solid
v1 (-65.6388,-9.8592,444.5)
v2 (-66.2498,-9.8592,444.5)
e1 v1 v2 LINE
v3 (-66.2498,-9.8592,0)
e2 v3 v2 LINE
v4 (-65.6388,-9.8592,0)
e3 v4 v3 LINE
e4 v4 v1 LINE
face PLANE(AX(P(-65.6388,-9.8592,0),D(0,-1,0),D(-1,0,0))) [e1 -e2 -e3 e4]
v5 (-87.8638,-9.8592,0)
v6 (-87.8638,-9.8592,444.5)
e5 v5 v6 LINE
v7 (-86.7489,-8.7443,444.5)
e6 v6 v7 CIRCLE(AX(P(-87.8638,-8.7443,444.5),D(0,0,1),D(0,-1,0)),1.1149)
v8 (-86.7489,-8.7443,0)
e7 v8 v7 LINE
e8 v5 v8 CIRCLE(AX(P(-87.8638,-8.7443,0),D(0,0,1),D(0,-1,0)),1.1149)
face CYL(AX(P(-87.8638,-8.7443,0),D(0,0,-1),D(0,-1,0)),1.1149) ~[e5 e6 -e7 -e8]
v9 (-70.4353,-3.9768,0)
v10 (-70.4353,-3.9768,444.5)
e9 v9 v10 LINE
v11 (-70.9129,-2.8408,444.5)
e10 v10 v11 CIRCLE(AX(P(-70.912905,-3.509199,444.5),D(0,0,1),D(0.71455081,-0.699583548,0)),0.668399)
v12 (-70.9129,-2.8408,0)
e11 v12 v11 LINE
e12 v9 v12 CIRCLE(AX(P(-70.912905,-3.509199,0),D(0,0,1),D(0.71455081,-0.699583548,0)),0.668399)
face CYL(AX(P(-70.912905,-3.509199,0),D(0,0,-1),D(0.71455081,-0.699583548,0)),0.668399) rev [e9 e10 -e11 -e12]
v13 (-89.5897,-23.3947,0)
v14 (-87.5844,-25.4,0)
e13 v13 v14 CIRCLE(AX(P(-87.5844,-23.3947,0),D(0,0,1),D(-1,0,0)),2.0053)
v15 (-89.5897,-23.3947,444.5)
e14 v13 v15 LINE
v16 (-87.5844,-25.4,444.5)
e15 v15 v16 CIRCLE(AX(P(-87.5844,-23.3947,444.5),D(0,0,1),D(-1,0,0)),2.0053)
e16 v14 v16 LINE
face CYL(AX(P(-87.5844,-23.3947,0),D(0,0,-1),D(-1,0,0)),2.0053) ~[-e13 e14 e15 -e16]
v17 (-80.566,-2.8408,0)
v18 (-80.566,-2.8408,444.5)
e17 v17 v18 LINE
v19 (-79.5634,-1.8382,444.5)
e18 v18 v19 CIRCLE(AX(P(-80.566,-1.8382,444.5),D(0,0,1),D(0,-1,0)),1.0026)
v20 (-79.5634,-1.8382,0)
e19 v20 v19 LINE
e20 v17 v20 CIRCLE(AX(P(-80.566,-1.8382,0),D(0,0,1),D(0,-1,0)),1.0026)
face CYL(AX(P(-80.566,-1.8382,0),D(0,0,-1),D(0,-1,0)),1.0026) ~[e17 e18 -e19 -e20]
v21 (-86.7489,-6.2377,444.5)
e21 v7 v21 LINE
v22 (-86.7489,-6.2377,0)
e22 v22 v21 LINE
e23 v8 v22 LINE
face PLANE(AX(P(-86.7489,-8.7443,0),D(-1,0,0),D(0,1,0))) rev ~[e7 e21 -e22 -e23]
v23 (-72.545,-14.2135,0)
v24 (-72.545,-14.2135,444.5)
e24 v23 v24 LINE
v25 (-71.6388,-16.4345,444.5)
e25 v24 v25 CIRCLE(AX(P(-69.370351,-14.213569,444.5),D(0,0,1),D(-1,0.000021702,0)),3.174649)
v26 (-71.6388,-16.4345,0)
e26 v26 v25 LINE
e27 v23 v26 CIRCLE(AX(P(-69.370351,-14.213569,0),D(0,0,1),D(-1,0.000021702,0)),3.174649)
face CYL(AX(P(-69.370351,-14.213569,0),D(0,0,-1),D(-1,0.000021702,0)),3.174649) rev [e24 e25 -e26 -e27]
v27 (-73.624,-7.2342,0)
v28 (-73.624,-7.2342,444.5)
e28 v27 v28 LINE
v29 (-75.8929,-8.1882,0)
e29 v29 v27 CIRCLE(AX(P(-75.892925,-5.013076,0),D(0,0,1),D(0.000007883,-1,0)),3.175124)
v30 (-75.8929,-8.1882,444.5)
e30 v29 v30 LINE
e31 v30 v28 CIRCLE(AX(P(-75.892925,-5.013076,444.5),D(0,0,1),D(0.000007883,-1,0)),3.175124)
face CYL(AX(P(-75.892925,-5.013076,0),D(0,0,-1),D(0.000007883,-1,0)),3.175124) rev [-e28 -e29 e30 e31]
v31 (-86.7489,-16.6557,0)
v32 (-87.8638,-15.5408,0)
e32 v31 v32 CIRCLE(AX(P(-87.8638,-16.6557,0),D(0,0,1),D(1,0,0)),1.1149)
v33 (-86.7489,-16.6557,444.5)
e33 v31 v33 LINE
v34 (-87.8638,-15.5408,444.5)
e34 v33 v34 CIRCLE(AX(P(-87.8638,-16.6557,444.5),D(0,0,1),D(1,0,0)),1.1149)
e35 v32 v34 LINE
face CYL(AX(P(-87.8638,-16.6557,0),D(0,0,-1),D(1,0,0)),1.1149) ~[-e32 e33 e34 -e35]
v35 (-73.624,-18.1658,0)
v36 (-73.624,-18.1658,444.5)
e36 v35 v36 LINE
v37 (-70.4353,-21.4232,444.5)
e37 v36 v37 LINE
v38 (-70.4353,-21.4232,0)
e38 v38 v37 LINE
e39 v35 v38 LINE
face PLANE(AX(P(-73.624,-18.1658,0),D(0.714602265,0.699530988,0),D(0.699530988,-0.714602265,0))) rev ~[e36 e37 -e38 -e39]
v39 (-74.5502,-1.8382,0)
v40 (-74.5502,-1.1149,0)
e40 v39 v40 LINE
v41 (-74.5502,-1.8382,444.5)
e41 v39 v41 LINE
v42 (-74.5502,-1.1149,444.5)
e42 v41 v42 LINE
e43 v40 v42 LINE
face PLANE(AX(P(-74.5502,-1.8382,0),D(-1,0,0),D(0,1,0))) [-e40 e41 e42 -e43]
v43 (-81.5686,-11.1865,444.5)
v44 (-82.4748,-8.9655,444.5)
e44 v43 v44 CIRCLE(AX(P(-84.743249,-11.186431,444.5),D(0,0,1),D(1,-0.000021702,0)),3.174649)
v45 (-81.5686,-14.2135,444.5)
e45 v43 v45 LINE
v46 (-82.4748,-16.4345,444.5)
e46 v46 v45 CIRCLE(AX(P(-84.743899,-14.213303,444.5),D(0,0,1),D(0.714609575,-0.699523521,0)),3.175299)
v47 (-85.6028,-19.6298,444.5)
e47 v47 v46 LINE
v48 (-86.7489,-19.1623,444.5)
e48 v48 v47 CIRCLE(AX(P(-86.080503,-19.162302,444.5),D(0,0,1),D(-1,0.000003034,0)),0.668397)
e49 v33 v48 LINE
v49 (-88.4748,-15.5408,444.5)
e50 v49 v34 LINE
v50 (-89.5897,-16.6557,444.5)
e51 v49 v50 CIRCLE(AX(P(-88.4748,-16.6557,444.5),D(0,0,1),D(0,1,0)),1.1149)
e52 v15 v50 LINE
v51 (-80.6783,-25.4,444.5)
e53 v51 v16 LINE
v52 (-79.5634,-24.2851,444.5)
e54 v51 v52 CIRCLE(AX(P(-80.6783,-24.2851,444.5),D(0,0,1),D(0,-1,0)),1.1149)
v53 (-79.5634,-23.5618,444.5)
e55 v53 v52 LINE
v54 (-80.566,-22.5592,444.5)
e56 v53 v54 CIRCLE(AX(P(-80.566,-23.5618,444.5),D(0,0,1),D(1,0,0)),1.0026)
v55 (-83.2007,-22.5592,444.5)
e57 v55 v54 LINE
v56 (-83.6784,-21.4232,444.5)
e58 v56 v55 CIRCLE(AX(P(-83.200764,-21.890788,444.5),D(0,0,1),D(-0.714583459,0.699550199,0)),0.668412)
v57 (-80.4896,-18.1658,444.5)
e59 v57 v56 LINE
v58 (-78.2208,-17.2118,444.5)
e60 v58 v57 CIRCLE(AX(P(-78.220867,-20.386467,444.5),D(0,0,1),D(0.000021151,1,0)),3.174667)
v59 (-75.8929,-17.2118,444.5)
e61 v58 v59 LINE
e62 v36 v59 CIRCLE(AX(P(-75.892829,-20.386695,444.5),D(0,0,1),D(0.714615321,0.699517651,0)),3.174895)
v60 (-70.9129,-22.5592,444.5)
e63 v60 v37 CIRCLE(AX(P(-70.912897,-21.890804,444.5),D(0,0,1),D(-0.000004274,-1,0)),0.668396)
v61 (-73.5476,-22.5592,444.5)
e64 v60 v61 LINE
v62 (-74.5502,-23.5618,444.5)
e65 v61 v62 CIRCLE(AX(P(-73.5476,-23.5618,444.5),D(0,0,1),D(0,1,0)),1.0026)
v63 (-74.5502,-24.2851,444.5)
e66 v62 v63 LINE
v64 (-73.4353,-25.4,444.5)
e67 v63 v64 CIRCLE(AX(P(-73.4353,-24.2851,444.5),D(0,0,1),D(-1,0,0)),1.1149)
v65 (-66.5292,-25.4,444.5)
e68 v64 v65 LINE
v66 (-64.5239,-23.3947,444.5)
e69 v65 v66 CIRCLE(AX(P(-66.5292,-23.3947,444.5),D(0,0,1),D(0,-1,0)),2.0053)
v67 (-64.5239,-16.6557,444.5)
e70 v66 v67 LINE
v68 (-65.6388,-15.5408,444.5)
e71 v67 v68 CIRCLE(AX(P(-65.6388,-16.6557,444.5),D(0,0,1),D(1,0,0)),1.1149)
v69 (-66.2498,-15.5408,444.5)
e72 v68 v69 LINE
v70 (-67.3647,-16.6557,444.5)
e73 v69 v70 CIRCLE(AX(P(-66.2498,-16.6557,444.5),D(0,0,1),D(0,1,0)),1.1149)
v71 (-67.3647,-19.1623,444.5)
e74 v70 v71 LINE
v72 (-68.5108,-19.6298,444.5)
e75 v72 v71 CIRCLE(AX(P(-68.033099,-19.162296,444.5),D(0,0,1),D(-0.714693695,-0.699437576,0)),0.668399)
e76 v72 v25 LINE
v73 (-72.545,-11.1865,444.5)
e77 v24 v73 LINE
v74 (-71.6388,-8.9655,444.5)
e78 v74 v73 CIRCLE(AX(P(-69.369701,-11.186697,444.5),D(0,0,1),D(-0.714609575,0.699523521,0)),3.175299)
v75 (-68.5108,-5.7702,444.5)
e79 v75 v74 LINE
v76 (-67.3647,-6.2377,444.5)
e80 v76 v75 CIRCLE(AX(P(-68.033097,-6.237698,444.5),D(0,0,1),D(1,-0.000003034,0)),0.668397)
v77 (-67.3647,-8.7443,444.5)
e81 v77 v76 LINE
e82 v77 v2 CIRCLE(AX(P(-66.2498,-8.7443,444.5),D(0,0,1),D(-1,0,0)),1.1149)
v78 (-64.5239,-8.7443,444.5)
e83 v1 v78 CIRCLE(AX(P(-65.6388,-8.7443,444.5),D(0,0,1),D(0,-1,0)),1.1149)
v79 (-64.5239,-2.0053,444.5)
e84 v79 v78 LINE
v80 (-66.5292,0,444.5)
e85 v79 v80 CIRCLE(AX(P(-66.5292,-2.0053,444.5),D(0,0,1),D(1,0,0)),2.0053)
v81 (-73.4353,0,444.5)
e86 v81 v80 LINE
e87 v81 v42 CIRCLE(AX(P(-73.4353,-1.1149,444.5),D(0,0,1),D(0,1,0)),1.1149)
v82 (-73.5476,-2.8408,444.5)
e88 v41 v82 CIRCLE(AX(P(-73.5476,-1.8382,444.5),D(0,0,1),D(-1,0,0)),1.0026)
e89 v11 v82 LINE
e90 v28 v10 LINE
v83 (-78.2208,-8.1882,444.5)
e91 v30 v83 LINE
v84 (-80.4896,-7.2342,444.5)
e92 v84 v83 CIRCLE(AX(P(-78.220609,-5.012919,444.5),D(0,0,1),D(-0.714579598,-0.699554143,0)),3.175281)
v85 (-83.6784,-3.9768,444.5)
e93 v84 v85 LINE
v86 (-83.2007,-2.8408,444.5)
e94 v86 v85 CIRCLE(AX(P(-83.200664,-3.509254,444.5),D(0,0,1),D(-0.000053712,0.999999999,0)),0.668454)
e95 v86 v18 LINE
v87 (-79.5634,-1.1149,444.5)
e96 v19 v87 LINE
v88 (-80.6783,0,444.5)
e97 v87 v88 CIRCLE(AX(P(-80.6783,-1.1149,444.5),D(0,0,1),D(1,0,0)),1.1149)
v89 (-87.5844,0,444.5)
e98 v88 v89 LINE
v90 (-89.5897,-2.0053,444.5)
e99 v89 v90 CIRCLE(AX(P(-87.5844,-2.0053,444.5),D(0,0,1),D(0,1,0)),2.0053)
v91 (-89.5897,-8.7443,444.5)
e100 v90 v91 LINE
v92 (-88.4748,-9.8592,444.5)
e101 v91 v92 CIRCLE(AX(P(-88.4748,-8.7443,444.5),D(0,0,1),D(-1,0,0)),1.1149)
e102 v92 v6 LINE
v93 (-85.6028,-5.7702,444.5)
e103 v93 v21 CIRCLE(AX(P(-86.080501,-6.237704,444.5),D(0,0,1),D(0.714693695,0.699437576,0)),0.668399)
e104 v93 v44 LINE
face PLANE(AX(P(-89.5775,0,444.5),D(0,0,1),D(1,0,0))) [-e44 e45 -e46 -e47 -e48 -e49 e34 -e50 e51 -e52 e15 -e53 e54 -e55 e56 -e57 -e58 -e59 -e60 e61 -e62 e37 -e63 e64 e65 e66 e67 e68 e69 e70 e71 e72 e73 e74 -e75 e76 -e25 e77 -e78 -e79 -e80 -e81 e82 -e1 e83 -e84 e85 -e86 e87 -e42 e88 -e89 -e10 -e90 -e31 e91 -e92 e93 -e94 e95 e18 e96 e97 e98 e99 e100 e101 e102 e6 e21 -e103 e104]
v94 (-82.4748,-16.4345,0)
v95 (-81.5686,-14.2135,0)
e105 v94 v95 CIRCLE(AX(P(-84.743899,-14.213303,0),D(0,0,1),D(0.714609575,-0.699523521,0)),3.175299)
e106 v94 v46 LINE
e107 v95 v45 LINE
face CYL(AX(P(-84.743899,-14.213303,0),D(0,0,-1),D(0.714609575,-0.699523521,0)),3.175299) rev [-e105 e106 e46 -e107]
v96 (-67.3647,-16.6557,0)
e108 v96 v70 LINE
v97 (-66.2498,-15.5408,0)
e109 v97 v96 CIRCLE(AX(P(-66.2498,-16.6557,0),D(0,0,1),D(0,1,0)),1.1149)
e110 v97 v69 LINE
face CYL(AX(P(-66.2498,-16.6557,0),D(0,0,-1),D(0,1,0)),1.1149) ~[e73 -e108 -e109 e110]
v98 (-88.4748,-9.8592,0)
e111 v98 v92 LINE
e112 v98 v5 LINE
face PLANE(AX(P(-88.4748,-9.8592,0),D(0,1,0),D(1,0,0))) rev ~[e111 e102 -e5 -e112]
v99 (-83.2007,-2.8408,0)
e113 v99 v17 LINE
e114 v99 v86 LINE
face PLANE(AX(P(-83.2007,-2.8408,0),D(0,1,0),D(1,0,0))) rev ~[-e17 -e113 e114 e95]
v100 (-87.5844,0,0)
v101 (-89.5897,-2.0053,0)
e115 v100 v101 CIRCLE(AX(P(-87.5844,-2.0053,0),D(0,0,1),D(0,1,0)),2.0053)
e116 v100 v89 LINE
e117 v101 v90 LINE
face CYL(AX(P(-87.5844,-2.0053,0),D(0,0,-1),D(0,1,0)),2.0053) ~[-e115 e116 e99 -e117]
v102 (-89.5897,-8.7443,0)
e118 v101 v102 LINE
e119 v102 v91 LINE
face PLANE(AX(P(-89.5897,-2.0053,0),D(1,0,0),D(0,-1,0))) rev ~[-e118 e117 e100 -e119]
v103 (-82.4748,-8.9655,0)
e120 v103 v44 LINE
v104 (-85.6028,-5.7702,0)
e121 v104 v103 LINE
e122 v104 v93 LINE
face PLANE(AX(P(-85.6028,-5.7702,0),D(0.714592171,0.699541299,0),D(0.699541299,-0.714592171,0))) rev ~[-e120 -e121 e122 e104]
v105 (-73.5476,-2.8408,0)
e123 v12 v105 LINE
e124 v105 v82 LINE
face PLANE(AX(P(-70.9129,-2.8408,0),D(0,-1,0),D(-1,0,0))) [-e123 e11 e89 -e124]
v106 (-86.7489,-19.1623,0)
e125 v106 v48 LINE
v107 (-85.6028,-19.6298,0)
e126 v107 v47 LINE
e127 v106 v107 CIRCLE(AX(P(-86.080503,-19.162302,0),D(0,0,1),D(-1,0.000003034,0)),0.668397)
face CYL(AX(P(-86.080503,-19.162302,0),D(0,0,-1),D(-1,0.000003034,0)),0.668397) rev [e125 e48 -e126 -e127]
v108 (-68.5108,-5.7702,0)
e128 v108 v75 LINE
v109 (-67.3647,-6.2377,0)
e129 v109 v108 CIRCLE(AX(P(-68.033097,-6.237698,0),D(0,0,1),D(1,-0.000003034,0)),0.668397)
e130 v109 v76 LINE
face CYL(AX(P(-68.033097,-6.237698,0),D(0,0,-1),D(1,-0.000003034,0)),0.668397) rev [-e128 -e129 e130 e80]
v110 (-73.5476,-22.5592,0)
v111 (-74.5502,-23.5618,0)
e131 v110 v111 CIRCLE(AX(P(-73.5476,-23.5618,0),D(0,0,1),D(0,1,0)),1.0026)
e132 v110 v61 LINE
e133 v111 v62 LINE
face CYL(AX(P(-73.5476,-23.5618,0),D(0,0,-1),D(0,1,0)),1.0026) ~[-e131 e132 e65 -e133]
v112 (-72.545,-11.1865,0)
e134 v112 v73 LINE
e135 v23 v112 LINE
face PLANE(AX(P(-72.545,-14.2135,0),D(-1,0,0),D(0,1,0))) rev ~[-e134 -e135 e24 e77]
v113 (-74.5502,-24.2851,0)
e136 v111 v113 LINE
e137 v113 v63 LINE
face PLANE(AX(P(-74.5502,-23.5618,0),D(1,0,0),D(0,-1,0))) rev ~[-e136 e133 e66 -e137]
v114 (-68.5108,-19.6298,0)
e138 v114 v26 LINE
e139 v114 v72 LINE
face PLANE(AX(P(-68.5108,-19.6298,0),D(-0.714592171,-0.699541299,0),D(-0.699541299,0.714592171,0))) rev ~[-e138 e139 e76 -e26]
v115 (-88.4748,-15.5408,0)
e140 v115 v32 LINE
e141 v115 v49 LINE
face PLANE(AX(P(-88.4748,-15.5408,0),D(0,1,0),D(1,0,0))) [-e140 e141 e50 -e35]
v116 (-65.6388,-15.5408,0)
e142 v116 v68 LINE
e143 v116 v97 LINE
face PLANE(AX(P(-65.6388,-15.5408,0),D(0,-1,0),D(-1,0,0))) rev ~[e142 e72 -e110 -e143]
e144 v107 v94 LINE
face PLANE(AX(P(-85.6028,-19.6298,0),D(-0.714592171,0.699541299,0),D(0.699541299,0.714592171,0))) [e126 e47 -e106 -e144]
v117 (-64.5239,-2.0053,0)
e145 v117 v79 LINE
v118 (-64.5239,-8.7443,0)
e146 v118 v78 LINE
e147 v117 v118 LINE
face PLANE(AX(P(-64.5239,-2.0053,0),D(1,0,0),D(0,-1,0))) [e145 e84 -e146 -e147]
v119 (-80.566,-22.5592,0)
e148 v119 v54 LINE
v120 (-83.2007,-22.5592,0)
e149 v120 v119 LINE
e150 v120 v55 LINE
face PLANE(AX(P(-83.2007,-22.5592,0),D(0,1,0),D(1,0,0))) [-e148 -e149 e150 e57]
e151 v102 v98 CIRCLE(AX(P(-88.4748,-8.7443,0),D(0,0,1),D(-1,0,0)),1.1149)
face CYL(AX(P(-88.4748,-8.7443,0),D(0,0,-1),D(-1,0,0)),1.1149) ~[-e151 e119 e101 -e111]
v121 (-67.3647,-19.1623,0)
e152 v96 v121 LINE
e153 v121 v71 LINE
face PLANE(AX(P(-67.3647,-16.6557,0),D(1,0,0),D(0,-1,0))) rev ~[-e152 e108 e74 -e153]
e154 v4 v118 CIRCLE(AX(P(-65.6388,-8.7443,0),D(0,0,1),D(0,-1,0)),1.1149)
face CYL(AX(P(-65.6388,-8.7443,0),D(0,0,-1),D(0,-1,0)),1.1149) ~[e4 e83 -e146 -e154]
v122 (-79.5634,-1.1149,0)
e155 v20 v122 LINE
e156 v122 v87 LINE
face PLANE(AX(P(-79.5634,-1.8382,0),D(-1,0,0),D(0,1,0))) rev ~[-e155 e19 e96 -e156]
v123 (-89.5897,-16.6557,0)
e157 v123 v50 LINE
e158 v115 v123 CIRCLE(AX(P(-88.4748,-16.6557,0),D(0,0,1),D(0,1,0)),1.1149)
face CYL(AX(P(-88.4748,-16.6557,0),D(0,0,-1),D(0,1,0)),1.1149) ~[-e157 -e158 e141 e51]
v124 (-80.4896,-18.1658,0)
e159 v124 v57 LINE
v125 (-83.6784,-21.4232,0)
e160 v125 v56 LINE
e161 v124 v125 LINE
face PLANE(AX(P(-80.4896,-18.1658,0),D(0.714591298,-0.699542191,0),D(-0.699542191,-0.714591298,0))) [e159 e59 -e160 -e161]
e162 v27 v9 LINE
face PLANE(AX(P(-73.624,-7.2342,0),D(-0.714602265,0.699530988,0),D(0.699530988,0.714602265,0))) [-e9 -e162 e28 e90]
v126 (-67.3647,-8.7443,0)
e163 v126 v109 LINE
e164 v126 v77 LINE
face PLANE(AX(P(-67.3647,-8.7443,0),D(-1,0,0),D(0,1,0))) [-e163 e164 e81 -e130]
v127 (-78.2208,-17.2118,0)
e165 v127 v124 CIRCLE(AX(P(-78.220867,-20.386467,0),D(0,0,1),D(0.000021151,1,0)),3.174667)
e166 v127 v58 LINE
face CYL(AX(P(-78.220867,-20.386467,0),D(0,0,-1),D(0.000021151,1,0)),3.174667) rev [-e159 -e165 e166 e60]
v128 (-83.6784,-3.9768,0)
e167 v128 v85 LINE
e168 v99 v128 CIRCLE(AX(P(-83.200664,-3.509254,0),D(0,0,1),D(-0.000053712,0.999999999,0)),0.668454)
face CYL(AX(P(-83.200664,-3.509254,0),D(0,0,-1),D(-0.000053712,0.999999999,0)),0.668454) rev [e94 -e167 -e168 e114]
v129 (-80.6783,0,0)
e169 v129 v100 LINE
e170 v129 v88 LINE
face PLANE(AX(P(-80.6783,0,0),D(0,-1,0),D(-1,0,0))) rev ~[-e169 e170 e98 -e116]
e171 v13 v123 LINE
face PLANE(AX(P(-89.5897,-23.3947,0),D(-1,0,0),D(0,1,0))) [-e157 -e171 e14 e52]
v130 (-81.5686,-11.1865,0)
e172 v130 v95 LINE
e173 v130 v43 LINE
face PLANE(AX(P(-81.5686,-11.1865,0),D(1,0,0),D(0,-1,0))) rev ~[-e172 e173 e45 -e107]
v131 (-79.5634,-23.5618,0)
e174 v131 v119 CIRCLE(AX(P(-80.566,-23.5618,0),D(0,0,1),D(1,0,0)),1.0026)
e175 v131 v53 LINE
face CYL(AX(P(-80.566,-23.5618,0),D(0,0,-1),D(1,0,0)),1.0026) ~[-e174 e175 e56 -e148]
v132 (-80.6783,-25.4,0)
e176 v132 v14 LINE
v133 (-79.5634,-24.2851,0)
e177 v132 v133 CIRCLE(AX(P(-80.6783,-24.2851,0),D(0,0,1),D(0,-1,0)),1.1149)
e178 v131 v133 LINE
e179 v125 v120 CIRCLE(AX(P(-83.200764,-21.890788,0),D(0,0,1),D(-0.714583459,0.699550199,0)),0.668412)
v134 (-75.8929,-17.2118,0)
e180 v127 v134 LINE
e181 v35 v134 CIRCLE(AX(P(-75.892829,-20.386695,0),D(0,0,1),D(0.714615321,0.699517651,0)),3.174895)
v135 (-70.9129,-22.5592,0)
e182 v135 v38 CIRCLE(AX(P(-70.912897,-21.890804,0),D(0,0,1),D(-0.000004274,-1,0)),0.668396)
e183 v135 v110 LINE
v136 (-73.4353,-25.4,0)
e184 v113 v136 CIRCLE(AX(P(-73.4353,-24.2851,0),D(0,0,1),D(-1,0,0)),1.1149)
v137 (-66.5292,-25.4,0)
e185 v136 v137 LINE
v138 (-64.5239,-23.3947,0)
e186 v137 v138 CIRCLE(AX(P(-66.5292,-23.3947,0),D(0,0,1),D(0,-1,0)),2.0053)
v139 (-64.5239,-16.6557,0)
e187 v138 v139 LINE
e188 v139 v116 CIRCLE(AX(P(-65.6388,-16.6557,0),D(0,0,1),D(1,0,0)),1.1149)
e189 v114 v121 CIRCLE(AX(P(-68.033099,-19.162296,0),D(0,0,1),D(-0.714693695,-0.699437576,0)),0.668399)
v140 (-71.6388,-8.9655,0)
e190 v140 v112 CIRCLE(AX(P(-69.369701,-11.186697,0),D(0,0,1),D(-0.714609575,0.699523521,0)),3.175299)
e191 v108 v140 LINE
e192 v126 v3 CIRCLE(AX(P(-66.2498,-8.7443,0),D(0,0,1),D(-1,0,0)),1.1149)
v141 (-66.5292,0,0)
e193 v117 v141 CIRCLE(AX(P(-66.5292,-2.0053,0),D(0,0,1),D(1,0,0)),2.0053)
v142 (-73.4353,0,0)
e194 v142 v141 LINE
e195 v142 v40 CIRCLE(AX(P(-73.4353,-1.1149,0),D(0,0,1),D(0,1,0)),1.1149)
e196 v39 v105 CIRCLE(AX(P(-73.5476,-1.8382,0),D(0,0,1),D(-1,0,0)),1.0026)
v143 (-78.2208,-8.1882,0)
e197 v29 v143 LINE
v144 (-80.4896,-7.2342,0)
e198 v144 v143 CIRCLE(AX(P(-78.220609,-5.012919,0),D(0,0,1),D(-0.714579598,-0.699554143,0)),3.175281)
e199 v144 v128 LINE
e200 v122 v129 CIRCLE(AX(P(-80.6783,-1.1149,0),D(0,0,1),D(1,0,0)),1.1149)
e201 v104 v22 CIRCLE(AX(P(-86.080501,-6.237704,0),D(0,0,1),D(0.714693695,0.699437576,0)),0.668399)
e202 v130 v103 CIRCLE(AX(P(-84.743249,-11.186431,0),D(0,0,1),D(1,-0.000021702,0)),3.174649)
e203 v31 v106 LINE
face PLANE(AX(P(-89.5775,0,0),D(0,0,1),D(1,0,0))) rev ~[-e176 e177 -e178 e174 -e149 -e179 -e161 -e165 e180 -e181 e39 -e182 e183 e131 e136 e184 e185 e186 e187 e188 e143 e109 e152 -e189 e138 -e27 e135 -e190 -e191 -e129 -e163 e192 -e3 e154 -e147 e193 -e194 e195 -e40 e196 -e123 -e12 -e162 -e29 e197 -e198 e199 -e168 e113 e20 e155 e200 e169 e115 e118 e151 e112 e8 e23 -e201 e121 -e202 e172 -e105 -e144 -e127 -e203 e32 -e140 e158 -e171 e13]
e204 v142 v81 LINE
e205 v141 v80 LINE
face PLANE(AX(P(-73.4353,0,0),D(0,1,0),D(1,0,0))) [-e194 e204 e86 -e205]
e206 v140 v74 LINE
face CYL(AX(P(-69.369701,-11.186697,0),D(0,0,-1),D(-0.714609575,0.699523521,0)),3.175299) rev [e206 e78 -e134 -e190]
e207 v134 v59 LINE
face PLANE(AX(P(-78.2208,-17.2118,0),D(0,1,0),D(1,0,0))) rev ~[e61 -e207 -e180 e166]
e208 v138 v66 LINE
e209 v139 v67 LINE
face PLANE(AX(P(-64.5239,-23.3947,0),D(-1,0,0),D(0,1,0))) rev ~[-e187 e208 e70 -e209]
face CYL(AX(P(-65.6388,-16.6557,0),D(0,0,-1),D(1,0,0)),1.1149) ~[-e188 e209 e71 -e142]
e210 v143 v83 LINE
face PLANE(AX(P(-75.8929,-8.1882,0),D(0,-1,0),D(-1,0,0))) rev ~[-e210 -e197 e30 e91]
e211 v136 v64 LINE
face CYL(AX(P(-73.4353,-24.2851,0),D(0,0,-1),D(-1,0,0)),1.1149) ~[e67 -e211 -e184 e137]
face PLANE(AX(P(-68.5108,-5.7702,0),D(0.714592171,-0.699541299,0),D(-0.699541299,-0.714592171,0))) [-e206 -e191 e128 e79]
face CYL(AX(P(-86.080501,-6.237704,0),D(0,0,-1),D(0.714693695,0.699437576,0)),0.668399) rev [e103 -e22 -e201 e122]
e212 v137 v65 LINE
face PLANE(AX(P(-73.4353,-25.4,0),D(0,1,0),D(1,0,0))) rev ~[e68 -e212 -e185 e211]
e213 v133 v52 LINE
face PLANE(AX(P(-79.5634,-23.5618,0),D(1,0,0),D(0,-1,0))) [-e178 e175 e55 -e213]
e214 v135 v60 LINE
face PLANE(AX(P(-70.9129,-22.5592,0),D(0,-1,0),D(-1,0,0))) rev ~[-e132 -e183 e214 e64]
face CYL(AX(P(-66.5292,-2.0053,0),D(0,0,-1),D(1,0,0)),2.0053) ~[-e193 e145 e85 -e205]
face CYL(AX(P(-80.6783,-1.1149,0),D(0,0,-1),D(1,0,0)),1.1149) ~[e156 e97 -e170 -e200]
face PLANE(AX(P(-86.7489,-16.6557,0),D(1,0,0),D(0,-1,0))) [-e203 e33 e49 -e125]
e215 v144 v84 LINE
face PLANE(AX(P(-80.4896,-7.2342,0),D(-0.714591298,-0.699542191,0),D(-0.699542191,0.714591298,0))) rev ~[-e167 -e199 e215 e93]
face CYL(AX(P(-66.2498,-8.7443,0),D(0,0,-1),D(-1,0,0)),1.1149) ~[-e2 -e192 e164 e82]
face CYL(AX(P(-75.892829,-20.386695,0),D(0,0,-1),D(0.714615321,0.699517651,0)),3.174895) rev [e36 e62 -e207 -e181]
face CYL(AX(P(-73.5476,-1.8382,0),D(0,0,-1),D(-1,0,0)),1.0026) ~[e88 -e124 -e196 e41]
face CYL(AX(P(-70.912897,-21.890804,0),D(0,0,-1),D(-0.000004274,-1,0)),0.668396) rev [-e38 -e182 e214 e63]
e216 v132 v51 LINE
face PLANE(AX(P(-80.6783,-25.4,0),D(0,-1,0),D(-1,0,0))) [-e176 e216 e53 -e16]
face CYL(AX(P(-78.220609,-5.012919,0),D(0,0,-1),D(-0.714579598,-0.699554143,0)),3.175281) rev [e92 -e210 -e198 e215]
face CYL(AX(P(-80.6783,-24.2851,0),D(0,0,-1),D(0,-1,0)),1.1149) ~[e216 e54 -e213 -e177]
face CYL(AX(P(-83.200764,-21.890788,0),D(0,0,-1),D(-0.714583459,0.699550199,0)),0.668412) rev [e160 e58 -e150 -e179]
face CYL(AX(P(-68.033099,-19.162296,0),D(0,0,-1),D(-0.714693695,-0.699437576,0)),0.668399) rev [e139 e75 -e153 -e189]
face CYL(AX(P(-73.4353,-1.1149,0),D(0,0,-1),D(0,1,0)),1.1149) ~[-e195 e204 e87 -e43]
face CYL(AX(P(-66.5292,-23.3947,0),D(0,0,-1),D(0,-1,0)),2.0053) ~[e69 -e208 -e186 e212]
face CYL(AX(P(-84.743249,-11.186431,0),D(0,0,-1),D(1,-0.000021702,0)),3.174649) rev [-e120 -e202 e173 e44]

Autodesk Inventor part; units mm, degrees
ref_plane "YZ Plane" through (0, 0, 0) normal (1, 0, 0) x (0, 1, 0)
ref_plane "XZ Plane" through (0, 0, 0) normal (0, 1, 0) x (-1, 0, 0)
ref_plane "Work Plane1" through (-89.5775, 0, 0) normal (0, 0, 1) x (1, 0, 0)
sketch "Sketch1" plane through (-89.5775, 0, 0) normal (0, 0, 1) x (1, 0, 0)
  arc A0 (19.1422, -3.9768) -> (18.6646, -2.8408) centre (18.6646, -3.5092) ccw
  line L0 (15.9535, -7.2342) -> (19.1422, -3.9768)
  line L1 (21.0667, -5.7702) -> (17.9387, -8.9655)
  arc A1 (22.2128, -6.2377) -> (21.0667, -5.7702) centre (21.5444, -6.2377) ccw
  line L2 (25.0536, -2.0053) -> (25.0536, -8.7443)
  line L3 (22.2128, -8.7443) -> (22.2128, -6.2377)
  line L4 (-0.0122, -2.0053) -> (-0.0122, -8.7443)
  arc A2 (3.9747, -5.7702) -> (2.8286, -6.2377) centre (3.497, -6.2377) ccw
  arc A3 (1.9931, 0) -> (-0.0122, -2.0053) centre (1.9931, -2.0053) ccw
  line L5 (8.8992, 0) -> (1.9931, 0)
  arc A4 (7.1027, -16.4345) -> (8.0089, -14.2135) centre (4.8339, -14.2135) ccw
  arc A5 (18.6646, -22.5592) -> (19.1422, -21.4232) centre (18.6646, -21.8908) ccw
  line L6 (15.9535, -18.1658) -> (19.1422, -21.4232)
  arc A6 (21.0667, -19.6298) -> (22.2128, -19.1623) centre (21.5444, -19.1623) ccw
  line L7 (21.0667, -19.6298) -> (17.9387, -16.4345)
  line L8 (22.2128, -16.6557) -> (22.2128, -19.1623)
  line L9 (25.0536, -23.3947) -> (25.0536, -16.6557)
  line L10 (16.1422, 0) -> (23.0483, 0)
  line L11 (18.6646, -2.8408) -> (16.0299, -2.8408)
  arc A7 (22.2128, -8.7443) -> (23.3277, -9.8592) centre (23.3277, -8.7443) ccw
  line L12 (23.9387, -9.8592) -> (23.3277, -9.8592)
  arc A8 (23.9387, -9.8592) -> (25.0536, -8.7443) centre (23.9387, -8.7443) ccw
  arc A9 (6.3768, -2.8408) -> (5.8991, -3.9768) centre (6.3768, -3.5092) ccw
  line L13 (3.9747, -5.7702) -> (7.1027, -8.9655)
  line L14 (9.0879, -7.2342) -> (5.8991, -3.9768)
  arc A10 (2.8286, -19.1623) -> (3.9747, -19.6298) centre (3.497, -19.1623) ccw
  line L15 (-0.0122, -23.3947) -> (-0.0122, -16.6557)
  line L16 (3.9747, -19.6298) -> (7.1027, -16.4345)
  arc A11 (5.8991, -21.4232) -> (6.3768, -22.5592) centre (6.3768, -21.8908) ccw
  line L17 (9.0879, -18.1658) -> (5.8991, -21.4232)
  line L18 (2.8286, -16.6557) -> (2.8286, -19.1623)
  arc A12 (23.0483, -25.4) -> (25.0536, -23.3947) centre (23.0483, -23.3947) ccw
  arc A13 (25.0536, -2.0053) -> (23.0483, 0) centre (23.0483, -2.0053) ccw
  arc A14 (13.6846, -8.1882) -> (15.9535, -7.2342) centre (13.6846, -5.0132) ccw
  line L19 (13.6846, -8.1882) -> (11.3567, -8.1882)
  arc A15 (9.0115, -2.8408) -> (10.0141, -1.8382) centre (9.0115, -1.8382) ccw
  arc A16 (9.0879, -7.2342) -> (11.3567, -8.1882) centre (11.3567, -5.0132) ccw
  arc A17 (17.9387, -8.9655) -> (17.0325, -11.1865) centre (20.2075, -11.1865) ccw
  line L20 (17.0325, -14.2135) -> (17.0325, -11.1865)
  line L21 (6.3768, -2.8408) -> (9.0115, -2.8408)
  line L22 (10.0141, -1.8382) -> (10.0141, -1.1149)
  arc A18 (10.0141, -1.1149) -> (8.8992, 0) centre (8.8992, -1.1149) ccw
  line L23 (2.8286, -8.7443) -> (2.8286, -6.2377)
  arc A19 (1.7137, -9.8592) -> (2.8286, -8.7443) centre (1.7137, -8.7443) ccw
  line L24 (1.1027, -9.8592) -> (1.7137, -9.8592)
  arc A20 (-0.0122, -8.7443) -> (1.1027, -9.8592) centre (1.1027, -8.7443) ccw
  line L25 (6.3768, -22.5592) -> (9.0115, -22.5592)
  arc A21 (10.0141, -23.5618) -> (9.0115, -22.5592) centre (9.0115, -23.5618) ccw
  line L26 (10.0141, -23.5618) -> (10.0141, -24.2851)
  arc A22 (8.8992, -25.4) -> (10.0141, -24.2851) centre (8.8992, -24.2851) ccw
  line L27 (8.8992, -25.4) -> (1.9931, -25.4)
  arc A23 (17.0325, -14.2135) -> (17.9387, -16.4345) centre (20.2075, -14.2135) ccw
  line L28 (23.9387, -15.5408) -> (23.3277, -15.5408)
  arc A24 (23.3277, -15.5408) -> (22.2128, -16.6557) centre (23.3277, -16.6557) ccw
  arc A25 (25.0536, -16.6557) -> (23.9387, -15.5408) centre (23.9387, -16.6557) ccw
  line L29 (16.1422, -25.4) -> (23.0483, -25.4)
  line L30 (18.6646, -22.5592) -> (16.0299, -22.5592)
  line L31 (8.0089, -11.1865) -> (8.0089, -14.2135)
  arc A26 (8.0089, -11.1865) -> (7.1027, -8.9655) centre (4.8339, -11.1865) ccw
  arc A27 (15.0273, -1.8382) -> (16.0299, -2.8408) centre (16.0299, -1.8382) ccw
  line L32 (15.0273, -1.8382) -> (15.0273, -1.1149)
  arc A28 (16.1422, 0) -> (15.0273, -1.1149) centre (16.1422, -1.1149) ccw
  arc A29 (-0.0122, -23.3947) -> (1.9931, -25.4) centre (1.9931, -23.3947) ccw
  arc A30 (11.3567, -17.2118) -> (9.0879, -18.1658) centre (11.3567, -20.3868) ccw
  line L33 (11.3567, -17.2118) -> (13.6846, -17.2118)
  arc A31 (15.9535, -18.1658) -> (13.6846, -17.2118) centre (13.6846, -20.3868) ccw
  arc A32 (16.0299, -22.5592) -> (15.0273, -23.5618) centre (16.0299, -23.5618) ccw
  line L34 (15.0273, -23.5618) -> (15.0273, -24.2851)
  arc A33 (15.0273, -24.2851) -> (16.1422, -25.4) centre (16.1422, -24.2851) ccw
  line L35 (1.1027, -15.5408) -> (1.7137, -15.5408)
  arc A34 (1.1027, -15.5408) -> (-0.0122, -16.6557) centre (1.1027, -16.6557) ccw
  arc A35 (2.8286, -16.6557) -> (1.7137, -15.5408) centre (1.7137, -16.6557) ccw
  point P0 (89.5775, 0)
  point P1 (12.5207, -12.7)
  dimension "d0" = 25.4
extrude "Extrusion1" add sketch "Sketch1" along normal blind 444.5
properties part number "extruded vertical"
